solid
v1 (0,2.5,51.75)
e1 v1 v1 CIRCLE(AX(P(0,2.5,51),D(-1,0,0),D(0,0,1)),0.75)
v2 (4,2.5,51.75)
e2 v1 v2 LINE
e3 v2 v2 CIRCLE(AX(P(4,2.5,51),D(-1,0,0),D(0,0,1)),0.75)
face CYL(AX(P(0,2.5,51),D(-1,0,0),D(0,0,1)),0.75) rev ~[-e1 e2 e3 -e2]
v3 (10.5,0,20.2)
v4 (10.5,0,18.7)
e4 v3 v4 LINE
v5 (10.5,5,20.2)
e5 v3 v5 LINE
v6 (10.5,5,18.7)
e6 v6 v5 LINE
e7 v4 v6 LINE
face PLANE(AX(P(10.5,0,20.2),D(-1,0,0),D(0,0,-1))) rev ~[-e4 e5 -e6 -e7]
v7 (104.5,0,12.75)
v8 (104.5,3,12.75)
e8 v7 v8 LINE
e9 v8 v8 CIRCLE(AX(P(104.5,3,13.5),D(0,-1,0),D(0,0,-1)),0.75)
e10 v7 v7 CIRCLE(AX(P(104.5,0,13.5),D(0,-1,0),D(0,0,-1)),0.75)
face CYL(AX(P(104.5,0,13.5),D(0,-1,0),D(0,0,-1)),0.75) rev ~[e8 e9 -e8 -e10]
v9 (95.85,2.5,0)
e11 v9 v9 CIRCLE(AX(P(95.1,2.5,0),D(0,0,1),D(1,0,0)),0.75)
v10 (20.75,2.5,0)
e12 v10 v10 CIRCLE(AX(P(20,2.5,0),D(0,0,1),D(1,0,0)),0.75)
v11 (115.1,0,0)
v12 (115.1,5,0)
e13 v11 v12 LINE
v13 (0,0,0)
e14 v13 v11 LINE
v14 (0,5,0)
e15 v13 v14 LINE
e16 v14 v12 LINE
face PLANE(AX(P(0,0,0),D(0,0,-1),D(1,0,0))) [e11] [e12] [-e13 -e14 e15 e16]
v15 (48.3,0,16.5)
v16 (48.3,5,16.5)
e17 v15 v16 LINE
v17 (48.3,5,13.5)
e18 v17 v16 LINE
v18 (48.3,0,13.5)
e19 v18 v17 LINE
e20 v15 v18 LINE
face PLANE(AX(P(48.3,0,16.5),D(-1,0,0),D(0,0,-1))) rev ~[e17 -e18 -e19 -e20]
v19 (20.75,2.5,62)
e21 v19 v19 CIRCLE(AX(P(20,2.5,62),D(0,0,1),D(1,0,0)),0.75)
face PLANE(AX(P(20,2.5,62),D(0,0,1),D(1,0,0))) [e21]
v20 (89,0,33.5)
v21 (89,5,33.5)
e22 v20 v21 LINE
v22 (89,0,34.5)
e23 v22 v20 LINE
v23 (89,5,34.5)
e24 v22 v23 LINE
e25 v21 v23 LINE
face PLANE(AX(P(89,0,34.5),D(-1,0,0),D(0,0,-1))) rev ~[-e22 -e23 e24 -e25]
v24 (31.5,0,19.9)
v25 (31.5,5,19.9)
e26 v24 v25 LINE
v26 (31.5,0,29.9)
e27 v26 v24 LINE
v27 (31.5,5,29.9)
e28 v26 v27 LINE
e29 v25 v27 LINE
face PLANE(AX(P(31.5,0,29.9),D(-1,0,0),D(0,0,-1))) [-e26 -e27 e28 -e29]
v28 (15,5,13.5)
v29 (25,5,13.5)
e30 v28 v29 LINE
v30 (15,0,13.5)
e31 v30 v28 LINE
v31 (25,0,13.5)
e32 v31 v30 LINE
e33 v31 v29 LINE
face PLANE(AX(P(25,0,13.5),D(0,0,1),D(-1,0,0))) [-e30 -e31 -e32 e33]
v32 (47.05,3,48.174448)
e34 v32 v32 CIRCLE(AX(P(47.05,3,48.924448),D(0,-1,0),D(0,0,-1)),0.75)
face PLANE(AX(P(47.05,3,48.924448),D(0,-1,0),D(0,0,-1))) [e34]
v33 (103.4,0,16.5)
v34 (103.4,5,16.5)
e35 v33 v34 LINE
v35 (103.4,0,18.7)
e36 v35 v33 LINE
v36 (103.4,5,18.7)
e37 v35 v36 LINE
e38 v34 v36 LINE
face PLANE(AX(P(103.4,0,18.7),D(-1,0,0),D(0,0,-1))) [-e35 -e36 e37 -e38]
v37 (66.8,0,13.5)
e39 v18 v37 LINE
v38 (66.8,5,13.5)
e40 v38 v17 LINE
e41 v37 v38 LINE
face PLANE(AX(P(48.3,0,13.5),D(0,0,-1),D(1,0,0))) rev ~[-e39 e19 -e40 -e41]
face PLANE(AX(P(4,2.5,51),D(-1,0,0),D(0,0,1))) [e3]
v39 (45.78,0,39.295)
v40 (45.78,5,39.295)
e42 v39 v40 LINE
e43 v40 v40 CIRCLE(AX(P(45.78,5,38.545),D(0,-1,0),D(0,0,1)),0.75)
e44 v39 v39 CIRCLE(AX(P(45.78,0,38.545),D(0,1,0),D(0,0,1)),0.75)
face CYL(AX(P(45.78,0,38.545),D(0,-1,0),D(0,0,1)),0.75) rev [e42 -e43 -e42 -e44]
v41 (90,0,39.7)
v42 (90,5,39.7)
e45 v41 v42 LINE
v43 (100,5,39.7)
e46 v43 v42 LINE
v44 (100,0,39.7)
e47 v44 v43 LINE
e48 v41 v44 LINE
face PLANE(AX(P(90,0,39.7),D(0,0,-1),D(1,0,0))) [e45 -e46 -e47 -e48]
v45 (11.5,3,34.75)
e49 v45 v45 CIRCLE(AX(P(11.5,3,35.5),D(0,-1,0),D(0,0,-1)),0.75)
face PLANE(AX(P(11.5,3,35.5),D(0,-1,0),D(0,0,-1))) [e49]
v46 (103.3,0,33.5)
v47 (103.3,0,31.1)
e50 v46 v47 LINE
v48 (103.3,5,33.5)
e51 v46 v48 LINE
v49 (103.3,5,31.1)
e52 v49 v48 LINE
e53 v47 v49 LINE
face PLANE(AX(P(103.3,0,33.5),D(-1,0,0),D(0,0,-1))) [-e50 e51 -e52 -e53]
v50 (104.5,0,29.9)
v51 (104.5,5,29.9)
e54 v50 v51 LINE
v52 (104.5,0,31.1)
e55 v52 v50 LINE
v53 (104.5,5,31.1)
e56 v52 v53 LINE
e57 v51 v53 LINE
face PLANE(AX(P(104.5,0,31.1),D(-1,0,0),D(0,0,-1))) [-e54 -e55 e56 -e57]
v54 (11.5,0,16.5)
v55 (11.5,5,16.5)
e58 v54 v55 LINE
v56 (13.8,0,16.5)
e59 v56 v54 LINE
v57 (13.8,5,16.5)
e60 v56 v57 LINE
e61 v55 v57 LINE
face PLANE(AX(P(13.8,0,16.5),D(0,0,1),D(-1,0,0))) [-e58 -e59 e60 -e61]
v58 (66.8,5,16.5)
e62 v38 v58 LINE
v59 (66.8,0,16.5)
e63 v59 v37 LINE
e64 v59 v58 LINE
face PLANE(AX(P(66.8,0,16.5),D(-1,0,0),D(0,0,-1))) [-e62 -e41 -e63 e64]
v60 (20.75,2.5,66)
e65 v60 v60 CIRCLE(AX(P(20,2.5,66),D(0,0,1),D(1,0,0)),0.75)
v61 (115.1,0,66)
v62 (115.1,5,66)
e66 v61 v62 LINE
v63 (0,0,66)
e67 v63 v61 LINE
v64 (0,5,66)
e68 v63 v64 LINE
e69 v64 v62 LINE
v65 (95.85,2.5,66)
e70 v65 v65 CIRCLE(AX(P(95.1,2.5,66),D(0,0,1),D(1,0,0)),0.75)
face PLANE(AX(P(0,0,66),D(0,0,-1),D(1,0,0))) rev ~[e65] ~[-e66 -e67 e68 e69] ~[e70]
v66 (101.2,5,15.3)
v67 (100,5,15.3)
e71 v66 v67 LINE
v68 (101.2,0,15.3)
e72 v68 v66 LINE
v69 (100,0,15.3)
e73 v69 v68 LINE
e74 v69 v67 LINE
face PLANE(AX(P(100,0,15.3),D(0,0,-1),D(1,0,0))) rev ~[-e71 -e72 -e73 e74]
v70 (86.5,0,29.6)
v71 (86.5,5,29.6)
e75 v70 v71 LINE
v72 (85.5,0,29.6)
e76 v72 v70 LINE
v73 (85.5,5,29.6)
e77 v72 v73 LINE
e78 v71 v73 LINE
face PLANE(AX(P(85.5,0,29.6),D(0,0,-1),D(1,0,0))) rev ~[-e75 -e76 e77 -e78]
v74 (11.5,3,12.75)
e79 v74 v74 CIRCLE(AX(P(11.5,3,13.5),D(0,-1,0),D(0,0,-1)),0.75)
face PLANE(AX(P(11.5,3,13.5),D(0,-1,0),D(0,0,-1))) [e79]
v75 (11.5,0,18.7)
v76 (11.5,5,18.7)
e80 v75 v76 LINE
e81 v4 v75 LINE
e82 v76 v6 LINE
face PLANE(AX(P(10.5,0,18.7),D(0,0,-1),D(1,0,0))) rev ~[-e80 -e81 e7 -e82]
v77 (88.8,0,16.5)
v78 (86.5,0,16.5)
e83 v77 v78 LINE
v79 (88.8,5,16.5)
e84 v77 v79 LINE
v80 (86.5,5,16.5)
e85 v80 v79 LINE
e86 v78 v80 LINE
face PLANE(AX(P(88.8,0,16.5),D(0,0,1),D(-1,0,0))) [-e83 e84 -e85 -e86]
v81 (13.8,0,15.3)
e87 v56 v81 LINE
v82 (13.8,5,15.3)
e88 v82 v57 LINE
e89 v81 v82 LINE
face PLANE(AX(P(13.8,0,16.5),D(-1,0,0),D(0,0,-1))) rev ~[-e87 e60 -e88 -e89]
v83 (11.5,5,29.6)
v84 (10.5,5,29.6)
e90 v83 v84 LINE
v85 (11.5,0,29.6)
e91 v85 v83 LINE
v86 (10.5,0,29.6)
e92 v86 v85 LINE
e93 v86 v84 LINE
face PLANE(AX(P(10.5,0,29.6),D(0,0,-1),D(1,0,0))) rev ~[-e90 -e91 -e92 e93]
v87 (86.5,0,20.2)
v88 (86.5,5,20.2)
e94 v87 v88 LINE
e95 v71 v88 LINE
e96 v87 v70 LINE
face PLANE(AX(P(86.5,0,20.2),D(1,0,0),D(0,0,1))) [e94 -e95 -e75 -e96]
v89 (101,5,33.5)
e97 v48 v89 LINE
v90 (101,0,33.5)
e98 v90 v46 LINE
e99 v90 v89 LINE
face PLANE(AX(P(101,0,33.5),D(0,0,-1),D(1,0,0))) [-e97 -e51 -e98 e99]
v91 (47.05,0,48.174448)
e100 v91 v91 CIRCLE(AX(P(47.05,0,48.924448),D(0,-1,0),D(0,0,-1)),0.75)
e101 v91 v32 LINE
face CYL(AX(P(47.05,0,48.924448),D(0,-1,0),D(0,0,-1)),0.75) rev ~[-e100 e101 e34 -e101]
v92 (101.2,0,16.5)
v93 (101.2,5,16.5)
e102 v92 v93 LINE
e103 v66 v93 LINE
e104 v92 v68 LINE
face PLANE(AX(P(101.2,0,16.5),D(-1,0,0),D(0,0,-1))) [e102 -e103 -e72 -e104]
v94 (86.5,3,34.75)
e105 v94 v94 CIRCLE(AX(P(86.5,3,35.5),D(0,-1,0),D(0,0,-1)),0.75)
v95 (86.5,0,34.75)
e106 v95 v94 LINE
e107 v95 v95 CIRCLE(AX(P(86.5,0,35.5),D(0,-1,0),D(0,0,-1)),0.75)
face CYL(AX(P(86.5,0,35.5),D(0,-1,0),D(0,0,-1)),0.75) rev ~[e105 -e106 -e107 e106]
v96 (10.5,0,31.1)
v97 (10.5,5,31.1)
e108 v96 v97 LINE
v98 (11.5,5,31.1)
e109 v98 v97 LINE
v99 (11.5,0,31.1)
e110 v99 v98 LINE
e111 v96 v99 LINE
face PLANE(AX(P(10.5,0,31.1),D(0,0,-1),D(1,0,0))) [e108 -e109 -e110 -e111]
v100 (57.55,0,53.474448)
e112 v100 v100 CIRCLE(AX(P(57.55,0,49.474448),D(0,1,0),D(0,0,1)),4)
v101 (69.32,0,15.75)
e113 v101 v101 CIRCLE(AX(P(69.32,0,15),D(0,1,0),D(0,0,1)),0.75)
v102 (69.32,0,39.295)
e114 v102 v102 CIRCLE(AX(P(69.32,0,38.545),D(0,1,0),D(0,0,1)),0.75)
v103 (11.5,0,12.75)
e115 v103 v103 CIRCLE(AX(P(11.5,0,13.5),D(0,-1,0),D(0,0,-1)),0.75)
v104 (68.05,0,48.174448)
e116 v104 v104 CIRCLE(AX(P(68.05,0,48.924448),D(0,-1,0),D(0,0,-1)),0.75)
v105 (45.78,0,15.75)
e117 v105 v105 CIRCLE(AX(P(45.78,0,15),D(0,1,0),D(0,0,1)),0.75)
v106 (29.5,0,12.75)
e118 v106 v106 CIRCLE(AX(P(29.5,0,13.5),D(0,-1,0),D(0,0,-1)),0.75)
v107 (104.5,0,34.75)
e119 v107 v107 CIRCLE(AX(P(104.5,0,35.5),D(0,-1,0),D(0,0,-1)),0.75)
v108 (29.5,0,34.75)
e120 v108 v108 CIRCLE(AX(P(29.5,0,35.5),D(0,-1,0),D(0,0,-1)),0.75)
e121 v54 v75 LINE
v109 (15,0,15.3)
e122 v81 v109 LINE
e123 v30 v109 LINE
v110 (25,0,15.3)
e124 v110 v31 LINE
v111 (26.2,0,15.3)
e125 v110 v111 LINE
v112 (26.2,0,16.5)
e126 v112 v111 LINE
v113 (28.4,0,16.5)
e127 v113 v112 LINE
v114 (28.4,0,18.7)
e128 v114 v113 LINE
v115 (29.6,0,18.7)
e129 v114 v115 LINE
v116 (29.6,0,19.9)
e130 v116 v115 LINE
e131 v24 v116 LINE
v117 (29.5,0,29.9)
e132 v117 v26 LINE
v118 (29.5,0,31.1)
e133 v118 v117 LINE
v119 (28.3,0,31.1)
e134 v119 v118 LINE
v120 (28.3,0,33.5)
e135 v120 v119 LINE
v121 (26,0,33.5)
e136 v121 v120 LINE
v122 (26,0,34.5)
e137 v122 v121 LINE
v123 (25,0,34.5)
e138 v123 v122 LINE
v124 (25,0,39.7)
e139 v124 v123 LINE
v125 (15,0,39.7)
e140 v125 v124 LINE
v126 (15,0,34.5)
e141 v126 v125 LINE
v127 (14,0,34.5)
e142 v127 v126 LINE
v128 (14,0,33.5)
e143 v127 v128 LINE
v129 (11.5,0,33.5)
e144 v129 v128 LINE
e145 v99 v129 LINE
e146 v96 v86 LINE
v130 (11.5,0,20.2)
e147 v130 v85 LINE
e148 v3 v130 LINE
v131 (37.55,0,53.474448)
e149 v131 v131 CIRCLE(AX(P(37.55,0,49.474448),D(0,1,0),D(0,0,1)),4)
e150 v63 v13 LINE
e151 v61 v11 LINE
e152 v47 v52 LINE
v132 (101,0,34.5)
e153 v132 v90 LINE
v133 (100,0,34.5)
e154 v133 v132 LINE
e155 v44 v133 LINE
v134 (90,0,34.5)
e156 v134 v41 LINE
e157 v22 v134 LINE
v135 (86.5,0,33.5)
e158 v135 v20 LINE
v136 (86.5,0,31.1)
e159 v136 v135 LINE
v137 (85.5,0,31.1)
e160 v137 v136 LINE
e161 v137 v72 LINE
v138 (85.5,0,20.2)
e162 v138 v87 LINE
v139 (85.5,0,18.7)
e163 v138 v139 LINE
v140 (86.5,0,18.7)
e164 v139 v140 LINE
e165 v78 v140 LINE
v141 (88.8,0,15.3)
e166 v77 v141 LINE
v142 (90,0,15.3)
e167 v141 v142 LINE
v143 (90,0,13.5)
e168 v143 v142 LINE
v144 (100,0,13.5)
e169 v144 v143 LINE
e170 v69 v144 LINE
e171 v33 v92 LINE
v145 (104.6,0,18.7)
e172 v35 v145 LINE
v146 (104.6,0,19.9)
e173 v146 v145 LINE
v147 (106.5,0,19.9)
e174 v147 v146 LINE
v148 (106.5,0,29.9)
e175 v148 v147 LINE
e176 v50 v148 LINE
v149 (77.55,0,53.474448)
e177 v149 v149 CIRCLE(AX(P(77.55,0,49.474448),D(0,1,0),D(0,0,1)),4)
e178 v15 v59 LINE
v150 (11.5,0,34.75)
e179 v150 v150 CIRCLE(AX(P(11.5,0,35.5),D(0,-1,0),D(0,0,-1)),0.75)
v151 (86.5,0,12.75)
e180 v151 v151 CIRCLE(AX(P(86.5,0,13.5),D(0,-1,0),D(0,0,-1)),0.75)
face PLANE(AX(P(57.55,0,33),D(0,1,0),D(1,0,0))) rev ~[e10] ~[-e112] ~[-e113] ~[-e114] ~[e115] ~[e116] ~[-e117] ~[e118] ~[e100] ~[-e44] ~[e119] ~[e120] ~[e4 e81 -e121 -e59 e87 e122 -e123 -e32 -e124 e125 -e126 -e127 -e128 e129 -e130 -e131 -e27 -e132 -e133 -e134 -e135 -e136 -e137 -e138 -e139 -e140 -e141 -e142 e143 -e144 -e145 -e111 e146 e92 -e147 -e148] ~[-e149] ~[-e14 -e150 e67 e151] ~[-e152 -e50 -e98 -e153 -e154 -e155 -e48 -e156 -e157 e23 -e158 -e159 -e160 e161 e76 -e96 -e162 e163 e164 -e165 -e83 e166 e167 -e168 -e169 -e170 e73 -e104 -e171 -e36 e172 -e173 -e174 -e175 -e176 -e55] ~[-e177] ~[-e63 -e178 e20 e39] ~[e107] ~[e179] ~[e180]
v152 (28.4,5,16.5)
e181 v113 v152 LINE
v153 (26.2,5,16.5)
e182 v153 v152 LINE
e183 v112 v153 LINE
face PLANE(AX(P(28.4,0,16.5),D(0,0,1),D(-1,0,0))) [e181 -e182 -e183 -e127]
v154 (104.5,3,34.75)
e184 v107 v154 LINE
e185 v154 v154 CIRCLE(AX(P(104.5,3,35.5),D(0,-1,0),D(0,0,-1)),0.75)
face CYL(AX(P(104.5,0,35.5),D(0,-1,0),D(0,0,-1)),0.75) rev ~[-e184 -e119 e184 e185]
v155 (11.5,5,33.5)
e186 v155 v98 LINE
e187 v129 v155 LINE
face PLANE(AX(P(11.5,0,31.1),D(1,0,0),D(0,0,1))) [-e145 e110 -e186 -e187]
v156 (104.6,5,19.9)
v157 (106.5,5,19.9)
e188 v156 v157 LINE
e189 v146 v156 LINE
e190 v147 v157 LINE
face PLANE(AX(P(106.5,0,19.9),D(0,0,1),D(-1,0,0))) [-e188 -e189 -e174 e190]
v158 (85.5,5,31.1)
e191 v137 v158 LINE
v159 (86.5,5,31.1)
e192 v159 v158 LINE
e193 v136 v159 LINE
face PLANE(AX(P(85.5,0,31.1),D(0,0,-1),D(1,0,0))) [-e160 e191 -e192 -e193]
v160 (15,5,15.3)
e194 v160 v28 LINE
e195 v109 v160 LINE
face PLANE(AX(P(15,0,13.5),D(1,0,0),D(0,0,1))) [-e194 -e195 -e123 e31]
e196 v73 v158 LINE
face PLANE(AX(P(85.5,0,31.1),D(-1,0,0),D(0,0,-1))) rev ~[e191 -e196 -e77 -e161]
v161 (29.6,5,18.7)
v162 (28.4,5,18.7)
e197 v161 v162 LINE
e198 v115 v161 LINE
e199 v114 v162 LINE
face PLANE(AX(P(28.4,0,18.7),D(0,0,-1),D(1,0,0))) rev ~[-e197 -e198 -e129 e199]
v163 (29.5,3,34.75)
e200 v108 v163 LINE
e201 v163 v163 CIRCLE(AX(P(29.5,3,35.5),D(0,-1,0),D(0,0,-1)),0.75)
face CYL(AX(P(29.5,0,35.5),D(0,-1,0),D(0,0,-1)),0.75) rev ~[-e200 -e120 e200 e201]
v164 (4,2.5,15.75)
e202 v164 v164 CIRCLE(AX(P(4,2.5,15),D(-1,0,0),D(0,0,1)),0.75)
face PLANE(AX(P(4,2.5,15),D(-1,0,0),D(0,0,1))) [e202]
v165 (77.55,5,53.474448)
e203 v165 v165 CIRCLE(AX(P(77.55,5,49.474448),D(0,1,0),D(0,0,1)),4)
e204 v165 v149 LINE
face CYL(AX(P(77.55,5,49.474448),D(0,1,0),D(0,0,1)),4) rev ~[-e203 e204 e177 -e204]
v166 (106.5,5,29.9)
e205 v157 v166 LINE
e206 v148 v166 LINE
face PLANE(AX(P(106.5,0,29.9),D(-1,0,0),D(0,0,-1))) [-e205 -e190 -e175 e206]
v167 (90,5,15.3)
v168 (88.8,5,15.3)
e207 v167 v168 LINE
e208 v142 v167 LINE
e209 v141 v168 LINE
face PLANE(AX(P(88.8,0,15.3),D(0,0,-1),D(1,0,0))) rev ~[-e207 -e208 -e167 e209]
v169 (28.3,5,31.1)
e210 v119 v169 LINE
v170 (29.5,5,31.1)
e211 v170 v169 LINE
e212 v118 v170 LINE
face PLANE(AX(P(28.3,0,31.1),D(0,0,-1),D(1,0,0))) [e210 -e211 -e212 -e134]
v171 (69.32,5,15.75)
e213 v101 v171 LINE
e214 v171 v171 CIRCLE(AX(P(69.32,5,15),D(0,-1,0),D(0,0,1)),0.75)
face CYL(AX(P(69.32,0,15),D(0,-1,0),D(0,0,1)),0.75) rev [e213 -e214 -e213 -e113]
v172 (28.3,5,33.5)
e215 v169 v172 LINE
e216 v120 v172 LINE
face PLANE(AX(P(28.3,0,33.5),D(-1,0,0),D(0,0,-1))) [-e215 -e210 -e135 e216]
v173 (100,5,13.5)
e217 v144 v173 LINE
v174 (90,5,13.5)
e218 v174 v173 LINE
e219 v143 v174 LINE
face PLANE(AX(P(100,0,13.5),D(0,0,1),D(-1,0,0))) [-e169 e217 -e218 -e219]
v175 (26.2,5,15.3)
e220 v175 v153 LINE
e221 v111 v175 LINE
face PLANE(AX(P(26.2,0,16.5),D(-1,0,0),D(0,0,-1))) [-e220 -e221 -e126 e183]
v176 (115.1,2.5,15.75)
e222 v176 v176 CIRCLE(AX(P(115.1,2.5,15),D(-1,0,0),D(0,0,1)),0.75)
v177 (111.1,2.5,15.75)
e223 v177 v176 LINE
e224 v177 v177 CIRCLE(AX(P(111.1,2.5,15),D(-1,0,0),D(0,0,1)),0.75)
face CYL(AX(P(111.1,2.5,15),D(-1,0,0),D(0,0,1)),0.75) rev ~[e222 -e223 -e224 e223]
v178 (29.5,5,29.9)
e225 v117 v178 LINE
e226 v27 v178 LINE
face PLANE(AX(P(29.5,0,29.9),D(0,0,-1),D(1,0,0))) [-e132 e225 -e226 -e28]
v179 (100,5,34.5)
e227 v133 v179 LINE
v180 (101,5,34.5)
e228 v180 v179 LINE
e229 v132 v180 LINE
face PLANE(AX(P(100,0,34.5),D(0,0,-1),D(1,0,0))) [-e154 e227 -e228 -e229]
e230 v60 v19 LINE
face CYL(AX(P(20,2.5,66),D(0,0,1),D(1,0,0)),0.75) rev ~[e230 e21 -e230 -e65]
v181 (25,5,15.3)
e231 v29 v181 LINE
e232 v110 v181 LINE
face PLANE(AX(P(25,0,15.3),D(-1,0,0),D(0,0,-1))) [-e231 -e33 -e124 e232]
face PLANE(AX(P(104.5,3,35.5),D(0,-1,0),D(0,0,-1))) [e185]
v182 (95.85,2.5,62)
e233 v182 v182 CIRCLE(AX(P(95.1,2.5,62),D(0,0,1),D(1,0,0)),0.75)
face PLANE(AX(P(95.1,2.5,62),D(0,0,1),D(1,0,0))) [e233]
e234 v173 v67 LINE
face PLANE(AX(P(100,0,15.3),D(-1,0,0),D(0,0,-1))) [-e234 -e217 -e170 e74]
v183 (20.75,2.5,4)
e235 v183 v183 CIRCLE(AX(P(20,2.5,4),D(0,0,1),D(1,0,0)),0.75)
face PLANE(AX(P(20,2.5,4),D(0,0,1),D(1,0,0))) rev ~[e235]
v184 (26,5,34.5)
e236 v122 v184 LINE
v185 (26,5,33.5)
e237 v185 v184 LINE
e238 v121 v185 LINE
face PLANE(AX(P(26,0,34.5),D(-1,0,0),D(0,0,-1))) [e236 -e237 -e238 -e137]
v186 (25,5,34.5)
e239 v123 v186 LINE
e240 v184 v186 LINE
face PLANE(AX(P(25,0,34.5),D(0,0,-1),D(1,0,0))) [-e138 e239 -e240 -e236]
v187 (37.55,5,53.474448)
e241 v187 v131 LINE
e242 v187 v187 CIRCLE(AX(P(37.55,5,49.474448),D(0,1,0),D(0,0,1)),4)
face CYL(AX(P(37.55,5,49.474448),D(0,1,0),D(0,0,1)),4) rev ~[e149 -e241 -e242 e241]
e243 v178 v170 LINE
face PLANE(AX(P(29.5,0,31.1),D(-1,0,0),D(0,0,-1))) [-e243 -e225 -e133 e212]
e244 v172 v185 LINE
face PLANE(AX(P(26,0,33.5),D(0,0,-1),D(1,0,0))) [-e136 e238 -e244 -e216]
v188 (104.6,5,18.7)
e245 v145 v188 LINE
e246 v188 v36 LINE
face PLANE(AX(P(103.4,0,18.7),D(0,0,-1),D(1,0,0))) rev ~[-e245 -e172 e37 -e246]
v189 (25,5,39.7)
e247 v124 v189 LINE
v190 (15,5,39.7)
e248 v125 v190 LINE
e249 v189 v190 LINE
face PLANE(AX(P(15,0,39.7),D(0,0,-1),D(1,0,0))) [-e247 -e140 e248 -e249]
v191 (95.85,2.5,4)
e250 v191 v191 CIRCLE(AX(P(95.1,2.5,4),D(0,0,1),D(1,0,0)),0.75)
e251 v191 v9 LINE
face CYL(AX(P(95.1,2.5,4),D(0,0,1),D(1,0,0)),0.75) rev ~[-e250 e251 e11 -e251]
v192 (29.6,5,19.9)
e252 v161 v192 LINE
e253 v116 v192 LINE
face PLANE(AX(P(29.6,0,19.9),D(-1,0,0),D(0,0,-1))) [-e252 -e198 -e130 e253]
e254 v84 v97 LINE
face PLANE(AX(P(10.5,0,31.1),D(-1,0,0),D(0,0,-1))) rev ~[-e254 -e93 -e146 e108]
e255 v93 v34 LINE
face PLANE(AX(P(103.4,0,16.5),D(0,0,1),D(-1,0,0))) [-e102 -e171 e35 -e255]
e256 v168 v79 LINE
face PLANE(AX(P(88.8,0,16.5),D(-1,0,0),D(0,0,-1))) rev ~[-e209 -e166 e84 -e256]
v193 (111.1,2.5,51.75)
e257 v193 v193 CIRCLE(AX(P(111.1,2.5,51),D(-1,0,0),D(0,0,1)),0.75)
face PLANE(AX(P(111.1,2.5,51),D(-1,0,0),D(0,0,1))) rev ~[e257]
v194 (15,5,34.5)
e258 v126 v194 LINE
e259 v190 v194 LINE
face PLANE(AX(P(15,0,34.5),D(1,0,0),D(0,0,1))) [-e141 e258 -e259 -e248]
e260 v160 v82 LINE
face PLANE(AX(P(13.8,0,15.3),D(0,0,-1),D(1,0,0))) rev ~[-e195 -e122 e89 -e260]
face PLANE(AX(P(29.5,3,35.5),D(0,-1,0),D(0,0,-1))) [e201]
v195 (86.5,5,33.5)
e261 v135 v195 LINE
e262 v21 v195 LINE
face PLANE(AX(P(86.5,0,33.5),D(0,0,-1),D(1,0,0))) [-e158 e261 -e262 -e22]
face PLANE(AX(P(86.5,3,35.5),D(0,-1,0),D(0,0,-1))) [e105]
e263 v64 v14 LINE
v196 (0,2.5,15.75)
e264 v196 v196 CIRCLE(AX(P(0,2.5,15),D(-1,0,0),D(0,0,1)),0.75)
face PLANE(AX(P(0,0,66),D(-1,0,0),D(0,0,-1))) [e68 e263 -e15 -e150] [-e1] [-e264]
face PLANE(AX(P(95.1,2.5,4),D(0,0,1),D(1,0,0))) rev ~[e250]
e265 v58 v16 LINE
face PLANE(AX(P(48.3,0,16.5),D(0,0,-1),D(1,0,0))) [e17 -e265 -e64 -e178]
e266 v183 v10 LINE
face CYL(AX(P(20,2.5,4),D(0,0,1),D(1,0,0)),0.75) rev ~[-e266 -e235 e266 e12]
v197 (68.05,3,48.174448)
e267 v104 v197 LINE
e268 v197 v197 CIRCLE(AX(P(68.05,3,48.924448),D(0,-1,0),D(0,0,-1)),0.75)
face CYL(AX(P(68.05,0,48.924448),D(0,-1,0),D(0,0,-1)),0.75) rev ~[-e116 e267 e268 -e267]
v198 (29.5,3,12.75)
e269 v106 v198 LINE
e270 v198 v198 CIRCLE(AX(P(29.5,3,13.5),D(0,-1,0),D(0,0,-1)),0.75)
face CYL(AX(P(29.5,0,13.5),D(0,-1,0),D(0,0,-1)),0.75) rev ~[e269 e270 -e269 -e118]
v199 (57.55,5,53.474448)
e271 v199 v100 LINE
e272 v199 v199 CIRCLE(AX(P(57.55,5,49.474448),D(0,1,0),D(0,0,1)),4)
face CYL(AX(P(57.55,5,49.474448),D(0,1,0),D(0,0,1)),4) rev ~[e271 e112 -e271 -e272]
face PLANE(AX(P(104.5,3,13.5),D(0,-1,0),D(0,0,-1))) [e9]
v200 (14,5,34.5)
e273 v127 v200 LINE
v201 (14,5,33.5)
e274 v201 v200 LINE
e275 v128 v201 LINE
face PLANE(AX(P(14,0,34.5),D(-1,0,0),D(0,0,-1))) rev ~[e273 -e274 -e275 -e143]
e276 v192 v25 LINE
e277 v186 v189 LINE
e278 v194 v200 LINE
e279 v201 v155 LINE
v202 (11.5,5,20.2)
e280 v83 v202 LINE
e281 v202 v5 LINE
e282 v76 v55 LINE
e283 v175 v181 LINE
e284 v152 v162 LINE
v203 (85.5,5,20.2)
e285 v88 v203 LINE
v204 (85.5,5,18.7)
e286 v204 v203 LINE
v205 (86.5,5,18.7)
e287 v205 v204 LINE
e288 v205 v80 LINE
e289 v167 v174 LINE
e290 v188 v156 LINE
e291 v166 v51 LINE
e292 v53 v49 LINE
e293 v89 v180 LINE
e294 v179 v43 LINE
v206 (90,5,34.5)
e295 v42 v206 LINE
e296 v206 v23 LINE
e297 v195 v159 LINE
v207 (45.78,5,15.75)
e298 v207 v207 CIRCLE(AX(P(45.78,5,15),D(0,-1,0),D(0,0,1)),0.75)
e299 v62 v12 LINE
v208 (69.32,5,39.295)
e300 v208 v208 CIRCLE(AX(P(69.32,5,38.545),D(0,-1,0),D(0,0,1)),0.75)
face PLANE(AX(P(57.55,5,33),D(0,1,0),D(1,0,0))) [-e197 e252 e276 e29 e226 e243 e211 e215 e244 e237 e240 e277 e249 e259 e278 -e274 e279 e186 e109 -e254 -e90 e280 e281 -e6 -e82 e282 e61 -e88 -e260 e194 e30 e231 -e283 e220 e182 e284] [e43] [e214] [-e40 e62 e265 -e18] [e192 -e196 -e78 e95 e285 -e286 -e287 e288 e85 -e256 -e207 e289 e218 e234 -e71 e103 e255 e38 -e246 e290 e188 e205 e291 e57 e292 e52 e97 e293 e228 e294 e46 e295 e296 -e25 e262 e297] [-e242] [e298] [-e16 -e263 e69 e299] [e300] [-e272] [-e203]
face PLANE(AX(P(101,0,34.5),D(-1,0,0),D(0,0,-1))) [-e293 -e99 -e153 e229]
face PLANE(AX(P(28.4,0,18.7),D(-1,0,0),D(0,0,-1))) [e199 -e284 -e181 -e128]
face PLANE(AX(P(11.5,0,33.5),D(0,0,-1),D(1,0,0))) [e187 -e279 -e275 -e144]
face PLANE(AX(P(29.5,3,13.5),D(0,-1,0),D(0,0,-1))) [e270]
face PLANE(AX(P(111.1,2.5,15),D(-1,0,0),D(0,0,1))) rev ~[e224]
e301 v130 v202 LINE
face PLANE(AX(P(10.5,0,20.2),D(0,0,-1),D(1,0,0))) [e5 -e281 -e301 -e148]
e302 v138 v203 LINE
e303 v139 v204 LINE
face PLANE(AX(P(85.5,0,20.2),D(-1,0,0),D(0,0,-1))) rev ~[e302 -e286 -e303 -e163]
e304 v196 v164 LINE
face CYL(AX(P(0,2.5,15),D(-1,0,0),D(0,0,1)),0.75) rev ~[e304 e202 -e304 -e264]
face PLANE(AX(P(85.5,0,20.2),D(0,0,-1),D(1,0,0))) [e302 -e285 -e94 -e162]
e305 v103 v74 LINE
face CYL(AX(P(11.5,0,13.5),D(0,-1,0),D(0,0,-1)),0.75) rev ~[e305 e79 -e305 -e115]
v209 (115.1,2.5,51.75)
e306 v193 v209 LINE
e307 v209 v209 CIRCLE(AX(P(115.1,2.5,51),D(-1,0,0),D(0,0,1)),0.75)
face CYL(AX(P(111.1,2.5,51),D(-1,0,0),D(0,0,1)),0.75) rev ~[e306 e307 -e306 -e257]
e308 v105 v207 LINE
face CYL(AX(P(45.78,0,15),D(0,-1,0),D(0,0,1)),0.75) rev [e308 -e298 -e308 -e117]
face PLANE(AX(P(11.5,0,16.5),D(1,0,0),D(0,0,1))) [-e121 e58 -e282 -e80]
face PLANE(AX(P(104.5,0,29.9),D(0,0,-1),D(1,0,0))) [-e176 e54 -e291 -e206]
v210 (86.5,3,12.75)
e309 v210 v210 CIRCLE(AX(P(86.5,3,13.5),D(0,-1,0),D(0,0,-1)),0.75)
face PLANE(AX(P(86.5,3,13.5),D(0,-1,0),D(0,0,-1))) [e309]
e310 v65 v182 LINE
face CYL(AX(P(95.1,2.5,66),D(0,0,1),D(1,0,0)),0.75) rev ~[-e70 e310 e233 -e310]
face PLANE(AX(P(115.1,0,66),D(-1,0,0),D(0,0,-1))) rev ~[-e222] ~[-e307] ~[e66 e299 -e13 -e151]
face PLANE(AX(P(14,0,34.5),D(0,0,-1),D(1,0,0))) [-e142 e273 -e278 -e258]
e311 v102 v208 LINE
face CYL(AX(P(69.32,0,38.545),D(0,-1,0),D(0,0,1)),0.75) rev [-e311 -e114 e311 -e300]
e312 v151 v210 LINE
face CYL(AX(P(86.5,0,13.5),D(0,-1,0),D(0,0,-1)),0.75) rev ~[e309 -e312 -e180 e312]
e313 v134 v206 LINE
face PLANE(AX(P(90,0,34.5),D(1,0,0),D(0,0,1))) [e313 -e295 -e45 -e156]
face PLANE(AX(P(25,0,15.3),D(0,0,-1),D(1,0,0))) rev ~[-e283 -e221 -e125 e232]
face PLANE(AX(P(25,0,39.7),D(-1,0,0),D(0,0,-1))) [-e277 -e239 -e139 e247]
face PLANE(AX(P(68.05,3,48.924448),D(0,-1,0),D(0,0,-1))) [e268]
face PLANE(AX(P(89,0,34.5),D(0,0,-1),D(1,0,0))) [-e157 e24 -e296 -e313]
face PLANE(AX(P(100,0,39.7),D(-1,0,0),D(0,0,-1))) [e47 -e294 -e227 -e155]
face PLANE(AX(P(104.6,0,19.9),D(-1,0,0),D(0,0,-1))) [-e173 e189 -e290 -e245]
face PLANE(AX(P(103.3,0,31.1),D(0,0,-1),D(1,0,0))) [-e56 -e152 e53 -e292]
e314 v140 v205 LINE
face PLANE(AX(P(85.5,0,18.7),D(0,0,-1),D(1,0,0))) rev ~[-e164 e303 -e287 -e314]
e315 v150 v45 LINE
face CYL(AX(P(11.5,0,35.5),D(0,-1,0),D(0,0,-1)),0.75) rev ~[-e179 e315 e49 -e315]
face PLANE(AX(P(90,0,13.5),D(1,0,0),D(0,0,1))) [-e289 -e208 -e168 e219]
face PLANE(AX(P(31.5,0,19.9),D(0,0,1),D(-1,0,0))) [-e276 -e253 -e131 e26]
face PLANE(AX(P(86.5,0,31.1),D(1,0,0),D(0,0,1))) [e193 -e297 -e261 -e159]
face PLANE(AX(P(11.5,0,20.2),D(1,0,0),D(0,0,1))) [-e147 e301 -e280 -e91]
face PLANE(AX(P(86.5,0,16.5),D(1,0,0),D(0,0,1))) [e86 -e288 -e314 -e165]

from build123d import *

# Parameters (mm, degrees)
SKETCH_1_W             = 115.1
SKETCH_1_H             = 66
EXTRUDE_1_DEPTH        = 5
SKETCH_1_3_W           = 1
SKETCH_1_3_H           = 1
SKETCH_1_3_H_2         = 1.5
SKETCH_1_3_W_2         = 1.2
SKETCH_1_3_H_3         = 1.2
CUT_EXTRUDE_1_DEPTH    = 133.774282148
PATTERN_LINEAR_1_COUNT = 2
PATTERN_LINEAR_1_PITCH = 75
SKETCH_1_4_R           = 0.75
SKETCH_1_4_W           = 18.5
SKETCH_1_4_H           = 3
CUT_EXTRUDE_2_DEPTH    = 133.774282148
SKETCH_2_R             = 4
CUT_EXTRUDE_3_DEPTH    = 133.774282148
SKETCH_5_R             = 0.75
CUT_EXTRUDE_4_DEPTH    = 3
SKETCH_6_R             = 0.75
CUT_EXTRUDE_5_DEPTH    = 4
CUT_EXTRUDE_START      = -111.1
SKETCH_6_4_R           = 0.75
CUT_EXTRUDE_6_DEPTH    = 4
SKETCH_7_R             = 0.75
CUT_EXTRUDE_7_DEPTH    = 4
CUT_EXTRUDE_START_2    = -62
SKETCH_7_2_R           = 0.75
CUT_EXTRUDE_8_DEPTH    = 4


with BuildPart() as part:
    # 草图1 → 凸台-拉伸1 (new body)
    with BuildSketch(Plane(origin=(0, 0, 0), x_dir=(1, 0, 0), z_dir=(0, 1, 0))):
        with Locations((57.55, -33)):
            Rectangle(SKETCH_1_W, SKETCH_1_H)
    extrude(amount=EXTRUDE_1_DEPTH)

    # 草图1<3> → 切除-拉伸1 (cut, through all)
    with BuildSketch(Plane(origin=(0, 0, 0), x_dir=(1, 0, 0), z_dir=(0, 1, 0))):
        Polygon((25, -33.5), (15, -33.5), (15, -34.5), (15, -39.7), (25, -39.7), (25, -34.5), align=None)
        with Locations((25.5, -34)):
            Rectangle(SKETCH_1_3_W, SKETCH_1_3_H)
        with Locations((14.5, -34)):
            Rectangle(SKETCH_1_3_W, SKETCH_1_3_H)
        Polygon((11.5, -16.5), (11.5, -18.7), (11.5, -20.2), (11.5, -29.6), (11.5, -31.1), (11.5, -33.5), (14, -33.5), (15, -33.5), (25, -33.5), (26, -33.5), (28.3, -33.5), (28.3, -31.1), (28.3, -29.9), (29.5, -29.9), (31.5, -29.9), (31.5, -19.9), (29.6, -19.9), (28.4, -19.9), (25, -19.9), (25, -16.5), (25, -15.3), (25, -13.5), (15, -13.5), (15, -15.3), (15, -16.5), (13.8, -16.5), align=None)
        with Locations((11, -30.35)):
            Rectangle(SKETCH_1_3_W, SKETCH_1_3_H_2)
        with Locations((11, -19.45)):
            Rectangle(SKETCH_1_3_W, SKETCH_1_3_H_2)
        with Locations((25.6, -15.9)):
            Rectangle(SKETCH_1_3_W_2, SKETCH_1_3_H_3)
        Polygon((26.2, -16.5), (25, -16.5), (25, -19.9), (28.4, -19.9), (28.4, -18.7), (28.4, -16.5), align=None)
        with Locations((29, -19.3)):
            Rectangle(SKETCH_1_3_W_2, SKETCH_1_3_H_3)
        with Locations((28.9, -30.5)):
            Rectangle(SKETCH_1_3_W_2, SKETCH_1_3_H_3)
        with Locations((14.4, -15.9)):
            Rectangle(SKETCH_1_3_W_2, SKETCH_1_3_H_3)
    cut_extrude_1 = extrude(amount=CUT_EXTRUDE_1_DEPTH, mode=Mode.SUBTRACT)

    # 阵列(线性)1: 切除-拉伸1 ×2
    with Locations(*[(i * PATTERN_LINEAR_1_PITCH, 0, 0) for i in range(1, PATTERN_LINEAR_1_COUNT)]):
        add(cut_extrude_1, mode=Mode.SUBTRACT)

    # 草图1<4> → 切除-拉伸2 (cut, through all)
    with BuildSketch(Plane(origin=(0, 0, 0), x_dir=(1, 0, 0), z_dir=(0, 1, 0))):
        with Locations(Location((45.78, -15, 0), (0, 0, 270))):
            Circle(SKETCH_1_4_R)
        with Locations(Location((69.32, -15, 0), (0, 0, 270))):
            Circle(SKETCH_1_4_R)
        with Locations(Location((45.78, -38.545, 0), (0, 0, 270))):
            Circle(SKETCH_1_4_R)
        with Locations(Location((69.32, -38.545, 0), (0, 0, 270))):
            Circle(SKETCH_1_4_R)
        with Locations((57.55, -15)):
            Rectangle(SKETCH_1_4_W, SKETCH_1_4_H)
    extrude(amount=CUT_EXTRUDE_2_DEPTH, mode=Mode.SUBTRACT)

    # 草图2 → 切除-拉伸3 (cut, through all)
    with BuildSketch(Plane(origin=(0, 5, 0), x_dir=(1, 0, 0), z_dir=(0, 1, 0))):
        with Locations(Location((37.55, -49.474447741, 0), (0, 0, 270))):
            Circle(SKETCH_2_R)
        with Locations(Location((57.55, -49.474447741, 0), (0, 0, 270))):
            Circle(SKETCH_2_R)
        with Locations(Location((77.55, -49.474447741, 0), (0, 0, 270))):
            Circle(SKETCH_2_R)
    extrude(amount=-CUT_EXTRUDE_3_DEPTH, mode=Mode.SUBTRACT)

    # 草图5 → 切除-拉伸4 (cut)
    with BuildSketch(Plane.XZ):
        with Locations(Location((104.5, 35.5, 0), (0, 0, 270))):
            Circle(SKETCH_5_R)
        with Locations(Location((86.5, 13.5, 0), (0, 0, 270))):
            Circle(SKETCH_5_R)
        with Locations(Location((104.5, 13.5, 0), (0, 0, 270))):
            Circle(SKETCH_5_R)
        with Locations(Location((86.5, 35.5, 0), (0, 0, 270))):
            Circle(SKETCH_5_R)
        with Locations(Location((11.5, 35.5, 0), (0, 0, 270))):
            Circle(SKETCH_5_R)
        with Locations(Location((11.5, 13.5, 0), (0, 0, 270))):
            Circle(SKETCH_5_R)
        with Locations(Location((29.5, 13.5, 0), (0, 0, 270))):
            Circle(SKETCH_5_R)
        with Locations(Location((29.5, 35.5, 0), (0, 0, 270))):
            Circle(SKETCH_5_R)
        with Locations(Location((47.05, 48.924447741, 0), (0, 0, 270))):
            Circle(SKETCH_5_R)
        with Locations(Location((68.05, 48.924447741, 0), (0, 0, 270))):
            Circle(SKETCH_5_R)
    extrude(amount=-CUT_EXTRUDE_4_DEPTH, mode=Mode.SUBTRACT)

    # 草图6 → 切除-拉伸5 (cut)
    with BuildSketch(Plane.ZY):
        with Locations((15, 2.5)):
            Circle(SKETCH_6_R)
        with Locations((51, 2.5)):
            Circle(SKETCH_6_R)
    extrude(amount=-CUT_EXTRUDE_5_DEPTH, mode=Mode.SUBTRACT)

    # 草图6<4> → 切除-拉伸6 (cut)
    with BuildSketch(Plane.ZY.offset(CUT_EXTRUDE_START)):
        with Locations((15, 2.5)):
            Circle(SKETCH_6_4_R)
        with Locations((51, 2.5)):
            Circle(SKETCH_6_4_R)
    extrude(amount=-CUT_EXTRUDE_6_DEPTH, mode=Mode.SUBTRACT)

    # 草图7 → 切除-拉伸7 (cut)
    with BuildSketch(Plane.XY.offset(66)):
        with Locations((95.1, 2.5)):
            Circle(SKETCH_7_R)
        with Locations((20, 2.5)):
            Circle(SKETCH_7_R)
    extrude(amount=-CUT_EXTRUDE_7_DEPTH, mode=Mode.SUBTRACT)

    # 草图7<2> → 切除-拉伸8 (cut)
    with BuildSketch(Plane.XY.offset(66).offset(CUT_EXTRUDE_START_2)):
        with Locations((95.1, 2.5)):
            Circle(SKETCH_7_2_R)
        with Locations((20, 2.5)):
            Circle(SKETCH_7_2_R)
    extrude(amount=-CUT_EXTRUDE_8_DEPTH, mode=Mode.SUBTRACT)


solid = part.part
